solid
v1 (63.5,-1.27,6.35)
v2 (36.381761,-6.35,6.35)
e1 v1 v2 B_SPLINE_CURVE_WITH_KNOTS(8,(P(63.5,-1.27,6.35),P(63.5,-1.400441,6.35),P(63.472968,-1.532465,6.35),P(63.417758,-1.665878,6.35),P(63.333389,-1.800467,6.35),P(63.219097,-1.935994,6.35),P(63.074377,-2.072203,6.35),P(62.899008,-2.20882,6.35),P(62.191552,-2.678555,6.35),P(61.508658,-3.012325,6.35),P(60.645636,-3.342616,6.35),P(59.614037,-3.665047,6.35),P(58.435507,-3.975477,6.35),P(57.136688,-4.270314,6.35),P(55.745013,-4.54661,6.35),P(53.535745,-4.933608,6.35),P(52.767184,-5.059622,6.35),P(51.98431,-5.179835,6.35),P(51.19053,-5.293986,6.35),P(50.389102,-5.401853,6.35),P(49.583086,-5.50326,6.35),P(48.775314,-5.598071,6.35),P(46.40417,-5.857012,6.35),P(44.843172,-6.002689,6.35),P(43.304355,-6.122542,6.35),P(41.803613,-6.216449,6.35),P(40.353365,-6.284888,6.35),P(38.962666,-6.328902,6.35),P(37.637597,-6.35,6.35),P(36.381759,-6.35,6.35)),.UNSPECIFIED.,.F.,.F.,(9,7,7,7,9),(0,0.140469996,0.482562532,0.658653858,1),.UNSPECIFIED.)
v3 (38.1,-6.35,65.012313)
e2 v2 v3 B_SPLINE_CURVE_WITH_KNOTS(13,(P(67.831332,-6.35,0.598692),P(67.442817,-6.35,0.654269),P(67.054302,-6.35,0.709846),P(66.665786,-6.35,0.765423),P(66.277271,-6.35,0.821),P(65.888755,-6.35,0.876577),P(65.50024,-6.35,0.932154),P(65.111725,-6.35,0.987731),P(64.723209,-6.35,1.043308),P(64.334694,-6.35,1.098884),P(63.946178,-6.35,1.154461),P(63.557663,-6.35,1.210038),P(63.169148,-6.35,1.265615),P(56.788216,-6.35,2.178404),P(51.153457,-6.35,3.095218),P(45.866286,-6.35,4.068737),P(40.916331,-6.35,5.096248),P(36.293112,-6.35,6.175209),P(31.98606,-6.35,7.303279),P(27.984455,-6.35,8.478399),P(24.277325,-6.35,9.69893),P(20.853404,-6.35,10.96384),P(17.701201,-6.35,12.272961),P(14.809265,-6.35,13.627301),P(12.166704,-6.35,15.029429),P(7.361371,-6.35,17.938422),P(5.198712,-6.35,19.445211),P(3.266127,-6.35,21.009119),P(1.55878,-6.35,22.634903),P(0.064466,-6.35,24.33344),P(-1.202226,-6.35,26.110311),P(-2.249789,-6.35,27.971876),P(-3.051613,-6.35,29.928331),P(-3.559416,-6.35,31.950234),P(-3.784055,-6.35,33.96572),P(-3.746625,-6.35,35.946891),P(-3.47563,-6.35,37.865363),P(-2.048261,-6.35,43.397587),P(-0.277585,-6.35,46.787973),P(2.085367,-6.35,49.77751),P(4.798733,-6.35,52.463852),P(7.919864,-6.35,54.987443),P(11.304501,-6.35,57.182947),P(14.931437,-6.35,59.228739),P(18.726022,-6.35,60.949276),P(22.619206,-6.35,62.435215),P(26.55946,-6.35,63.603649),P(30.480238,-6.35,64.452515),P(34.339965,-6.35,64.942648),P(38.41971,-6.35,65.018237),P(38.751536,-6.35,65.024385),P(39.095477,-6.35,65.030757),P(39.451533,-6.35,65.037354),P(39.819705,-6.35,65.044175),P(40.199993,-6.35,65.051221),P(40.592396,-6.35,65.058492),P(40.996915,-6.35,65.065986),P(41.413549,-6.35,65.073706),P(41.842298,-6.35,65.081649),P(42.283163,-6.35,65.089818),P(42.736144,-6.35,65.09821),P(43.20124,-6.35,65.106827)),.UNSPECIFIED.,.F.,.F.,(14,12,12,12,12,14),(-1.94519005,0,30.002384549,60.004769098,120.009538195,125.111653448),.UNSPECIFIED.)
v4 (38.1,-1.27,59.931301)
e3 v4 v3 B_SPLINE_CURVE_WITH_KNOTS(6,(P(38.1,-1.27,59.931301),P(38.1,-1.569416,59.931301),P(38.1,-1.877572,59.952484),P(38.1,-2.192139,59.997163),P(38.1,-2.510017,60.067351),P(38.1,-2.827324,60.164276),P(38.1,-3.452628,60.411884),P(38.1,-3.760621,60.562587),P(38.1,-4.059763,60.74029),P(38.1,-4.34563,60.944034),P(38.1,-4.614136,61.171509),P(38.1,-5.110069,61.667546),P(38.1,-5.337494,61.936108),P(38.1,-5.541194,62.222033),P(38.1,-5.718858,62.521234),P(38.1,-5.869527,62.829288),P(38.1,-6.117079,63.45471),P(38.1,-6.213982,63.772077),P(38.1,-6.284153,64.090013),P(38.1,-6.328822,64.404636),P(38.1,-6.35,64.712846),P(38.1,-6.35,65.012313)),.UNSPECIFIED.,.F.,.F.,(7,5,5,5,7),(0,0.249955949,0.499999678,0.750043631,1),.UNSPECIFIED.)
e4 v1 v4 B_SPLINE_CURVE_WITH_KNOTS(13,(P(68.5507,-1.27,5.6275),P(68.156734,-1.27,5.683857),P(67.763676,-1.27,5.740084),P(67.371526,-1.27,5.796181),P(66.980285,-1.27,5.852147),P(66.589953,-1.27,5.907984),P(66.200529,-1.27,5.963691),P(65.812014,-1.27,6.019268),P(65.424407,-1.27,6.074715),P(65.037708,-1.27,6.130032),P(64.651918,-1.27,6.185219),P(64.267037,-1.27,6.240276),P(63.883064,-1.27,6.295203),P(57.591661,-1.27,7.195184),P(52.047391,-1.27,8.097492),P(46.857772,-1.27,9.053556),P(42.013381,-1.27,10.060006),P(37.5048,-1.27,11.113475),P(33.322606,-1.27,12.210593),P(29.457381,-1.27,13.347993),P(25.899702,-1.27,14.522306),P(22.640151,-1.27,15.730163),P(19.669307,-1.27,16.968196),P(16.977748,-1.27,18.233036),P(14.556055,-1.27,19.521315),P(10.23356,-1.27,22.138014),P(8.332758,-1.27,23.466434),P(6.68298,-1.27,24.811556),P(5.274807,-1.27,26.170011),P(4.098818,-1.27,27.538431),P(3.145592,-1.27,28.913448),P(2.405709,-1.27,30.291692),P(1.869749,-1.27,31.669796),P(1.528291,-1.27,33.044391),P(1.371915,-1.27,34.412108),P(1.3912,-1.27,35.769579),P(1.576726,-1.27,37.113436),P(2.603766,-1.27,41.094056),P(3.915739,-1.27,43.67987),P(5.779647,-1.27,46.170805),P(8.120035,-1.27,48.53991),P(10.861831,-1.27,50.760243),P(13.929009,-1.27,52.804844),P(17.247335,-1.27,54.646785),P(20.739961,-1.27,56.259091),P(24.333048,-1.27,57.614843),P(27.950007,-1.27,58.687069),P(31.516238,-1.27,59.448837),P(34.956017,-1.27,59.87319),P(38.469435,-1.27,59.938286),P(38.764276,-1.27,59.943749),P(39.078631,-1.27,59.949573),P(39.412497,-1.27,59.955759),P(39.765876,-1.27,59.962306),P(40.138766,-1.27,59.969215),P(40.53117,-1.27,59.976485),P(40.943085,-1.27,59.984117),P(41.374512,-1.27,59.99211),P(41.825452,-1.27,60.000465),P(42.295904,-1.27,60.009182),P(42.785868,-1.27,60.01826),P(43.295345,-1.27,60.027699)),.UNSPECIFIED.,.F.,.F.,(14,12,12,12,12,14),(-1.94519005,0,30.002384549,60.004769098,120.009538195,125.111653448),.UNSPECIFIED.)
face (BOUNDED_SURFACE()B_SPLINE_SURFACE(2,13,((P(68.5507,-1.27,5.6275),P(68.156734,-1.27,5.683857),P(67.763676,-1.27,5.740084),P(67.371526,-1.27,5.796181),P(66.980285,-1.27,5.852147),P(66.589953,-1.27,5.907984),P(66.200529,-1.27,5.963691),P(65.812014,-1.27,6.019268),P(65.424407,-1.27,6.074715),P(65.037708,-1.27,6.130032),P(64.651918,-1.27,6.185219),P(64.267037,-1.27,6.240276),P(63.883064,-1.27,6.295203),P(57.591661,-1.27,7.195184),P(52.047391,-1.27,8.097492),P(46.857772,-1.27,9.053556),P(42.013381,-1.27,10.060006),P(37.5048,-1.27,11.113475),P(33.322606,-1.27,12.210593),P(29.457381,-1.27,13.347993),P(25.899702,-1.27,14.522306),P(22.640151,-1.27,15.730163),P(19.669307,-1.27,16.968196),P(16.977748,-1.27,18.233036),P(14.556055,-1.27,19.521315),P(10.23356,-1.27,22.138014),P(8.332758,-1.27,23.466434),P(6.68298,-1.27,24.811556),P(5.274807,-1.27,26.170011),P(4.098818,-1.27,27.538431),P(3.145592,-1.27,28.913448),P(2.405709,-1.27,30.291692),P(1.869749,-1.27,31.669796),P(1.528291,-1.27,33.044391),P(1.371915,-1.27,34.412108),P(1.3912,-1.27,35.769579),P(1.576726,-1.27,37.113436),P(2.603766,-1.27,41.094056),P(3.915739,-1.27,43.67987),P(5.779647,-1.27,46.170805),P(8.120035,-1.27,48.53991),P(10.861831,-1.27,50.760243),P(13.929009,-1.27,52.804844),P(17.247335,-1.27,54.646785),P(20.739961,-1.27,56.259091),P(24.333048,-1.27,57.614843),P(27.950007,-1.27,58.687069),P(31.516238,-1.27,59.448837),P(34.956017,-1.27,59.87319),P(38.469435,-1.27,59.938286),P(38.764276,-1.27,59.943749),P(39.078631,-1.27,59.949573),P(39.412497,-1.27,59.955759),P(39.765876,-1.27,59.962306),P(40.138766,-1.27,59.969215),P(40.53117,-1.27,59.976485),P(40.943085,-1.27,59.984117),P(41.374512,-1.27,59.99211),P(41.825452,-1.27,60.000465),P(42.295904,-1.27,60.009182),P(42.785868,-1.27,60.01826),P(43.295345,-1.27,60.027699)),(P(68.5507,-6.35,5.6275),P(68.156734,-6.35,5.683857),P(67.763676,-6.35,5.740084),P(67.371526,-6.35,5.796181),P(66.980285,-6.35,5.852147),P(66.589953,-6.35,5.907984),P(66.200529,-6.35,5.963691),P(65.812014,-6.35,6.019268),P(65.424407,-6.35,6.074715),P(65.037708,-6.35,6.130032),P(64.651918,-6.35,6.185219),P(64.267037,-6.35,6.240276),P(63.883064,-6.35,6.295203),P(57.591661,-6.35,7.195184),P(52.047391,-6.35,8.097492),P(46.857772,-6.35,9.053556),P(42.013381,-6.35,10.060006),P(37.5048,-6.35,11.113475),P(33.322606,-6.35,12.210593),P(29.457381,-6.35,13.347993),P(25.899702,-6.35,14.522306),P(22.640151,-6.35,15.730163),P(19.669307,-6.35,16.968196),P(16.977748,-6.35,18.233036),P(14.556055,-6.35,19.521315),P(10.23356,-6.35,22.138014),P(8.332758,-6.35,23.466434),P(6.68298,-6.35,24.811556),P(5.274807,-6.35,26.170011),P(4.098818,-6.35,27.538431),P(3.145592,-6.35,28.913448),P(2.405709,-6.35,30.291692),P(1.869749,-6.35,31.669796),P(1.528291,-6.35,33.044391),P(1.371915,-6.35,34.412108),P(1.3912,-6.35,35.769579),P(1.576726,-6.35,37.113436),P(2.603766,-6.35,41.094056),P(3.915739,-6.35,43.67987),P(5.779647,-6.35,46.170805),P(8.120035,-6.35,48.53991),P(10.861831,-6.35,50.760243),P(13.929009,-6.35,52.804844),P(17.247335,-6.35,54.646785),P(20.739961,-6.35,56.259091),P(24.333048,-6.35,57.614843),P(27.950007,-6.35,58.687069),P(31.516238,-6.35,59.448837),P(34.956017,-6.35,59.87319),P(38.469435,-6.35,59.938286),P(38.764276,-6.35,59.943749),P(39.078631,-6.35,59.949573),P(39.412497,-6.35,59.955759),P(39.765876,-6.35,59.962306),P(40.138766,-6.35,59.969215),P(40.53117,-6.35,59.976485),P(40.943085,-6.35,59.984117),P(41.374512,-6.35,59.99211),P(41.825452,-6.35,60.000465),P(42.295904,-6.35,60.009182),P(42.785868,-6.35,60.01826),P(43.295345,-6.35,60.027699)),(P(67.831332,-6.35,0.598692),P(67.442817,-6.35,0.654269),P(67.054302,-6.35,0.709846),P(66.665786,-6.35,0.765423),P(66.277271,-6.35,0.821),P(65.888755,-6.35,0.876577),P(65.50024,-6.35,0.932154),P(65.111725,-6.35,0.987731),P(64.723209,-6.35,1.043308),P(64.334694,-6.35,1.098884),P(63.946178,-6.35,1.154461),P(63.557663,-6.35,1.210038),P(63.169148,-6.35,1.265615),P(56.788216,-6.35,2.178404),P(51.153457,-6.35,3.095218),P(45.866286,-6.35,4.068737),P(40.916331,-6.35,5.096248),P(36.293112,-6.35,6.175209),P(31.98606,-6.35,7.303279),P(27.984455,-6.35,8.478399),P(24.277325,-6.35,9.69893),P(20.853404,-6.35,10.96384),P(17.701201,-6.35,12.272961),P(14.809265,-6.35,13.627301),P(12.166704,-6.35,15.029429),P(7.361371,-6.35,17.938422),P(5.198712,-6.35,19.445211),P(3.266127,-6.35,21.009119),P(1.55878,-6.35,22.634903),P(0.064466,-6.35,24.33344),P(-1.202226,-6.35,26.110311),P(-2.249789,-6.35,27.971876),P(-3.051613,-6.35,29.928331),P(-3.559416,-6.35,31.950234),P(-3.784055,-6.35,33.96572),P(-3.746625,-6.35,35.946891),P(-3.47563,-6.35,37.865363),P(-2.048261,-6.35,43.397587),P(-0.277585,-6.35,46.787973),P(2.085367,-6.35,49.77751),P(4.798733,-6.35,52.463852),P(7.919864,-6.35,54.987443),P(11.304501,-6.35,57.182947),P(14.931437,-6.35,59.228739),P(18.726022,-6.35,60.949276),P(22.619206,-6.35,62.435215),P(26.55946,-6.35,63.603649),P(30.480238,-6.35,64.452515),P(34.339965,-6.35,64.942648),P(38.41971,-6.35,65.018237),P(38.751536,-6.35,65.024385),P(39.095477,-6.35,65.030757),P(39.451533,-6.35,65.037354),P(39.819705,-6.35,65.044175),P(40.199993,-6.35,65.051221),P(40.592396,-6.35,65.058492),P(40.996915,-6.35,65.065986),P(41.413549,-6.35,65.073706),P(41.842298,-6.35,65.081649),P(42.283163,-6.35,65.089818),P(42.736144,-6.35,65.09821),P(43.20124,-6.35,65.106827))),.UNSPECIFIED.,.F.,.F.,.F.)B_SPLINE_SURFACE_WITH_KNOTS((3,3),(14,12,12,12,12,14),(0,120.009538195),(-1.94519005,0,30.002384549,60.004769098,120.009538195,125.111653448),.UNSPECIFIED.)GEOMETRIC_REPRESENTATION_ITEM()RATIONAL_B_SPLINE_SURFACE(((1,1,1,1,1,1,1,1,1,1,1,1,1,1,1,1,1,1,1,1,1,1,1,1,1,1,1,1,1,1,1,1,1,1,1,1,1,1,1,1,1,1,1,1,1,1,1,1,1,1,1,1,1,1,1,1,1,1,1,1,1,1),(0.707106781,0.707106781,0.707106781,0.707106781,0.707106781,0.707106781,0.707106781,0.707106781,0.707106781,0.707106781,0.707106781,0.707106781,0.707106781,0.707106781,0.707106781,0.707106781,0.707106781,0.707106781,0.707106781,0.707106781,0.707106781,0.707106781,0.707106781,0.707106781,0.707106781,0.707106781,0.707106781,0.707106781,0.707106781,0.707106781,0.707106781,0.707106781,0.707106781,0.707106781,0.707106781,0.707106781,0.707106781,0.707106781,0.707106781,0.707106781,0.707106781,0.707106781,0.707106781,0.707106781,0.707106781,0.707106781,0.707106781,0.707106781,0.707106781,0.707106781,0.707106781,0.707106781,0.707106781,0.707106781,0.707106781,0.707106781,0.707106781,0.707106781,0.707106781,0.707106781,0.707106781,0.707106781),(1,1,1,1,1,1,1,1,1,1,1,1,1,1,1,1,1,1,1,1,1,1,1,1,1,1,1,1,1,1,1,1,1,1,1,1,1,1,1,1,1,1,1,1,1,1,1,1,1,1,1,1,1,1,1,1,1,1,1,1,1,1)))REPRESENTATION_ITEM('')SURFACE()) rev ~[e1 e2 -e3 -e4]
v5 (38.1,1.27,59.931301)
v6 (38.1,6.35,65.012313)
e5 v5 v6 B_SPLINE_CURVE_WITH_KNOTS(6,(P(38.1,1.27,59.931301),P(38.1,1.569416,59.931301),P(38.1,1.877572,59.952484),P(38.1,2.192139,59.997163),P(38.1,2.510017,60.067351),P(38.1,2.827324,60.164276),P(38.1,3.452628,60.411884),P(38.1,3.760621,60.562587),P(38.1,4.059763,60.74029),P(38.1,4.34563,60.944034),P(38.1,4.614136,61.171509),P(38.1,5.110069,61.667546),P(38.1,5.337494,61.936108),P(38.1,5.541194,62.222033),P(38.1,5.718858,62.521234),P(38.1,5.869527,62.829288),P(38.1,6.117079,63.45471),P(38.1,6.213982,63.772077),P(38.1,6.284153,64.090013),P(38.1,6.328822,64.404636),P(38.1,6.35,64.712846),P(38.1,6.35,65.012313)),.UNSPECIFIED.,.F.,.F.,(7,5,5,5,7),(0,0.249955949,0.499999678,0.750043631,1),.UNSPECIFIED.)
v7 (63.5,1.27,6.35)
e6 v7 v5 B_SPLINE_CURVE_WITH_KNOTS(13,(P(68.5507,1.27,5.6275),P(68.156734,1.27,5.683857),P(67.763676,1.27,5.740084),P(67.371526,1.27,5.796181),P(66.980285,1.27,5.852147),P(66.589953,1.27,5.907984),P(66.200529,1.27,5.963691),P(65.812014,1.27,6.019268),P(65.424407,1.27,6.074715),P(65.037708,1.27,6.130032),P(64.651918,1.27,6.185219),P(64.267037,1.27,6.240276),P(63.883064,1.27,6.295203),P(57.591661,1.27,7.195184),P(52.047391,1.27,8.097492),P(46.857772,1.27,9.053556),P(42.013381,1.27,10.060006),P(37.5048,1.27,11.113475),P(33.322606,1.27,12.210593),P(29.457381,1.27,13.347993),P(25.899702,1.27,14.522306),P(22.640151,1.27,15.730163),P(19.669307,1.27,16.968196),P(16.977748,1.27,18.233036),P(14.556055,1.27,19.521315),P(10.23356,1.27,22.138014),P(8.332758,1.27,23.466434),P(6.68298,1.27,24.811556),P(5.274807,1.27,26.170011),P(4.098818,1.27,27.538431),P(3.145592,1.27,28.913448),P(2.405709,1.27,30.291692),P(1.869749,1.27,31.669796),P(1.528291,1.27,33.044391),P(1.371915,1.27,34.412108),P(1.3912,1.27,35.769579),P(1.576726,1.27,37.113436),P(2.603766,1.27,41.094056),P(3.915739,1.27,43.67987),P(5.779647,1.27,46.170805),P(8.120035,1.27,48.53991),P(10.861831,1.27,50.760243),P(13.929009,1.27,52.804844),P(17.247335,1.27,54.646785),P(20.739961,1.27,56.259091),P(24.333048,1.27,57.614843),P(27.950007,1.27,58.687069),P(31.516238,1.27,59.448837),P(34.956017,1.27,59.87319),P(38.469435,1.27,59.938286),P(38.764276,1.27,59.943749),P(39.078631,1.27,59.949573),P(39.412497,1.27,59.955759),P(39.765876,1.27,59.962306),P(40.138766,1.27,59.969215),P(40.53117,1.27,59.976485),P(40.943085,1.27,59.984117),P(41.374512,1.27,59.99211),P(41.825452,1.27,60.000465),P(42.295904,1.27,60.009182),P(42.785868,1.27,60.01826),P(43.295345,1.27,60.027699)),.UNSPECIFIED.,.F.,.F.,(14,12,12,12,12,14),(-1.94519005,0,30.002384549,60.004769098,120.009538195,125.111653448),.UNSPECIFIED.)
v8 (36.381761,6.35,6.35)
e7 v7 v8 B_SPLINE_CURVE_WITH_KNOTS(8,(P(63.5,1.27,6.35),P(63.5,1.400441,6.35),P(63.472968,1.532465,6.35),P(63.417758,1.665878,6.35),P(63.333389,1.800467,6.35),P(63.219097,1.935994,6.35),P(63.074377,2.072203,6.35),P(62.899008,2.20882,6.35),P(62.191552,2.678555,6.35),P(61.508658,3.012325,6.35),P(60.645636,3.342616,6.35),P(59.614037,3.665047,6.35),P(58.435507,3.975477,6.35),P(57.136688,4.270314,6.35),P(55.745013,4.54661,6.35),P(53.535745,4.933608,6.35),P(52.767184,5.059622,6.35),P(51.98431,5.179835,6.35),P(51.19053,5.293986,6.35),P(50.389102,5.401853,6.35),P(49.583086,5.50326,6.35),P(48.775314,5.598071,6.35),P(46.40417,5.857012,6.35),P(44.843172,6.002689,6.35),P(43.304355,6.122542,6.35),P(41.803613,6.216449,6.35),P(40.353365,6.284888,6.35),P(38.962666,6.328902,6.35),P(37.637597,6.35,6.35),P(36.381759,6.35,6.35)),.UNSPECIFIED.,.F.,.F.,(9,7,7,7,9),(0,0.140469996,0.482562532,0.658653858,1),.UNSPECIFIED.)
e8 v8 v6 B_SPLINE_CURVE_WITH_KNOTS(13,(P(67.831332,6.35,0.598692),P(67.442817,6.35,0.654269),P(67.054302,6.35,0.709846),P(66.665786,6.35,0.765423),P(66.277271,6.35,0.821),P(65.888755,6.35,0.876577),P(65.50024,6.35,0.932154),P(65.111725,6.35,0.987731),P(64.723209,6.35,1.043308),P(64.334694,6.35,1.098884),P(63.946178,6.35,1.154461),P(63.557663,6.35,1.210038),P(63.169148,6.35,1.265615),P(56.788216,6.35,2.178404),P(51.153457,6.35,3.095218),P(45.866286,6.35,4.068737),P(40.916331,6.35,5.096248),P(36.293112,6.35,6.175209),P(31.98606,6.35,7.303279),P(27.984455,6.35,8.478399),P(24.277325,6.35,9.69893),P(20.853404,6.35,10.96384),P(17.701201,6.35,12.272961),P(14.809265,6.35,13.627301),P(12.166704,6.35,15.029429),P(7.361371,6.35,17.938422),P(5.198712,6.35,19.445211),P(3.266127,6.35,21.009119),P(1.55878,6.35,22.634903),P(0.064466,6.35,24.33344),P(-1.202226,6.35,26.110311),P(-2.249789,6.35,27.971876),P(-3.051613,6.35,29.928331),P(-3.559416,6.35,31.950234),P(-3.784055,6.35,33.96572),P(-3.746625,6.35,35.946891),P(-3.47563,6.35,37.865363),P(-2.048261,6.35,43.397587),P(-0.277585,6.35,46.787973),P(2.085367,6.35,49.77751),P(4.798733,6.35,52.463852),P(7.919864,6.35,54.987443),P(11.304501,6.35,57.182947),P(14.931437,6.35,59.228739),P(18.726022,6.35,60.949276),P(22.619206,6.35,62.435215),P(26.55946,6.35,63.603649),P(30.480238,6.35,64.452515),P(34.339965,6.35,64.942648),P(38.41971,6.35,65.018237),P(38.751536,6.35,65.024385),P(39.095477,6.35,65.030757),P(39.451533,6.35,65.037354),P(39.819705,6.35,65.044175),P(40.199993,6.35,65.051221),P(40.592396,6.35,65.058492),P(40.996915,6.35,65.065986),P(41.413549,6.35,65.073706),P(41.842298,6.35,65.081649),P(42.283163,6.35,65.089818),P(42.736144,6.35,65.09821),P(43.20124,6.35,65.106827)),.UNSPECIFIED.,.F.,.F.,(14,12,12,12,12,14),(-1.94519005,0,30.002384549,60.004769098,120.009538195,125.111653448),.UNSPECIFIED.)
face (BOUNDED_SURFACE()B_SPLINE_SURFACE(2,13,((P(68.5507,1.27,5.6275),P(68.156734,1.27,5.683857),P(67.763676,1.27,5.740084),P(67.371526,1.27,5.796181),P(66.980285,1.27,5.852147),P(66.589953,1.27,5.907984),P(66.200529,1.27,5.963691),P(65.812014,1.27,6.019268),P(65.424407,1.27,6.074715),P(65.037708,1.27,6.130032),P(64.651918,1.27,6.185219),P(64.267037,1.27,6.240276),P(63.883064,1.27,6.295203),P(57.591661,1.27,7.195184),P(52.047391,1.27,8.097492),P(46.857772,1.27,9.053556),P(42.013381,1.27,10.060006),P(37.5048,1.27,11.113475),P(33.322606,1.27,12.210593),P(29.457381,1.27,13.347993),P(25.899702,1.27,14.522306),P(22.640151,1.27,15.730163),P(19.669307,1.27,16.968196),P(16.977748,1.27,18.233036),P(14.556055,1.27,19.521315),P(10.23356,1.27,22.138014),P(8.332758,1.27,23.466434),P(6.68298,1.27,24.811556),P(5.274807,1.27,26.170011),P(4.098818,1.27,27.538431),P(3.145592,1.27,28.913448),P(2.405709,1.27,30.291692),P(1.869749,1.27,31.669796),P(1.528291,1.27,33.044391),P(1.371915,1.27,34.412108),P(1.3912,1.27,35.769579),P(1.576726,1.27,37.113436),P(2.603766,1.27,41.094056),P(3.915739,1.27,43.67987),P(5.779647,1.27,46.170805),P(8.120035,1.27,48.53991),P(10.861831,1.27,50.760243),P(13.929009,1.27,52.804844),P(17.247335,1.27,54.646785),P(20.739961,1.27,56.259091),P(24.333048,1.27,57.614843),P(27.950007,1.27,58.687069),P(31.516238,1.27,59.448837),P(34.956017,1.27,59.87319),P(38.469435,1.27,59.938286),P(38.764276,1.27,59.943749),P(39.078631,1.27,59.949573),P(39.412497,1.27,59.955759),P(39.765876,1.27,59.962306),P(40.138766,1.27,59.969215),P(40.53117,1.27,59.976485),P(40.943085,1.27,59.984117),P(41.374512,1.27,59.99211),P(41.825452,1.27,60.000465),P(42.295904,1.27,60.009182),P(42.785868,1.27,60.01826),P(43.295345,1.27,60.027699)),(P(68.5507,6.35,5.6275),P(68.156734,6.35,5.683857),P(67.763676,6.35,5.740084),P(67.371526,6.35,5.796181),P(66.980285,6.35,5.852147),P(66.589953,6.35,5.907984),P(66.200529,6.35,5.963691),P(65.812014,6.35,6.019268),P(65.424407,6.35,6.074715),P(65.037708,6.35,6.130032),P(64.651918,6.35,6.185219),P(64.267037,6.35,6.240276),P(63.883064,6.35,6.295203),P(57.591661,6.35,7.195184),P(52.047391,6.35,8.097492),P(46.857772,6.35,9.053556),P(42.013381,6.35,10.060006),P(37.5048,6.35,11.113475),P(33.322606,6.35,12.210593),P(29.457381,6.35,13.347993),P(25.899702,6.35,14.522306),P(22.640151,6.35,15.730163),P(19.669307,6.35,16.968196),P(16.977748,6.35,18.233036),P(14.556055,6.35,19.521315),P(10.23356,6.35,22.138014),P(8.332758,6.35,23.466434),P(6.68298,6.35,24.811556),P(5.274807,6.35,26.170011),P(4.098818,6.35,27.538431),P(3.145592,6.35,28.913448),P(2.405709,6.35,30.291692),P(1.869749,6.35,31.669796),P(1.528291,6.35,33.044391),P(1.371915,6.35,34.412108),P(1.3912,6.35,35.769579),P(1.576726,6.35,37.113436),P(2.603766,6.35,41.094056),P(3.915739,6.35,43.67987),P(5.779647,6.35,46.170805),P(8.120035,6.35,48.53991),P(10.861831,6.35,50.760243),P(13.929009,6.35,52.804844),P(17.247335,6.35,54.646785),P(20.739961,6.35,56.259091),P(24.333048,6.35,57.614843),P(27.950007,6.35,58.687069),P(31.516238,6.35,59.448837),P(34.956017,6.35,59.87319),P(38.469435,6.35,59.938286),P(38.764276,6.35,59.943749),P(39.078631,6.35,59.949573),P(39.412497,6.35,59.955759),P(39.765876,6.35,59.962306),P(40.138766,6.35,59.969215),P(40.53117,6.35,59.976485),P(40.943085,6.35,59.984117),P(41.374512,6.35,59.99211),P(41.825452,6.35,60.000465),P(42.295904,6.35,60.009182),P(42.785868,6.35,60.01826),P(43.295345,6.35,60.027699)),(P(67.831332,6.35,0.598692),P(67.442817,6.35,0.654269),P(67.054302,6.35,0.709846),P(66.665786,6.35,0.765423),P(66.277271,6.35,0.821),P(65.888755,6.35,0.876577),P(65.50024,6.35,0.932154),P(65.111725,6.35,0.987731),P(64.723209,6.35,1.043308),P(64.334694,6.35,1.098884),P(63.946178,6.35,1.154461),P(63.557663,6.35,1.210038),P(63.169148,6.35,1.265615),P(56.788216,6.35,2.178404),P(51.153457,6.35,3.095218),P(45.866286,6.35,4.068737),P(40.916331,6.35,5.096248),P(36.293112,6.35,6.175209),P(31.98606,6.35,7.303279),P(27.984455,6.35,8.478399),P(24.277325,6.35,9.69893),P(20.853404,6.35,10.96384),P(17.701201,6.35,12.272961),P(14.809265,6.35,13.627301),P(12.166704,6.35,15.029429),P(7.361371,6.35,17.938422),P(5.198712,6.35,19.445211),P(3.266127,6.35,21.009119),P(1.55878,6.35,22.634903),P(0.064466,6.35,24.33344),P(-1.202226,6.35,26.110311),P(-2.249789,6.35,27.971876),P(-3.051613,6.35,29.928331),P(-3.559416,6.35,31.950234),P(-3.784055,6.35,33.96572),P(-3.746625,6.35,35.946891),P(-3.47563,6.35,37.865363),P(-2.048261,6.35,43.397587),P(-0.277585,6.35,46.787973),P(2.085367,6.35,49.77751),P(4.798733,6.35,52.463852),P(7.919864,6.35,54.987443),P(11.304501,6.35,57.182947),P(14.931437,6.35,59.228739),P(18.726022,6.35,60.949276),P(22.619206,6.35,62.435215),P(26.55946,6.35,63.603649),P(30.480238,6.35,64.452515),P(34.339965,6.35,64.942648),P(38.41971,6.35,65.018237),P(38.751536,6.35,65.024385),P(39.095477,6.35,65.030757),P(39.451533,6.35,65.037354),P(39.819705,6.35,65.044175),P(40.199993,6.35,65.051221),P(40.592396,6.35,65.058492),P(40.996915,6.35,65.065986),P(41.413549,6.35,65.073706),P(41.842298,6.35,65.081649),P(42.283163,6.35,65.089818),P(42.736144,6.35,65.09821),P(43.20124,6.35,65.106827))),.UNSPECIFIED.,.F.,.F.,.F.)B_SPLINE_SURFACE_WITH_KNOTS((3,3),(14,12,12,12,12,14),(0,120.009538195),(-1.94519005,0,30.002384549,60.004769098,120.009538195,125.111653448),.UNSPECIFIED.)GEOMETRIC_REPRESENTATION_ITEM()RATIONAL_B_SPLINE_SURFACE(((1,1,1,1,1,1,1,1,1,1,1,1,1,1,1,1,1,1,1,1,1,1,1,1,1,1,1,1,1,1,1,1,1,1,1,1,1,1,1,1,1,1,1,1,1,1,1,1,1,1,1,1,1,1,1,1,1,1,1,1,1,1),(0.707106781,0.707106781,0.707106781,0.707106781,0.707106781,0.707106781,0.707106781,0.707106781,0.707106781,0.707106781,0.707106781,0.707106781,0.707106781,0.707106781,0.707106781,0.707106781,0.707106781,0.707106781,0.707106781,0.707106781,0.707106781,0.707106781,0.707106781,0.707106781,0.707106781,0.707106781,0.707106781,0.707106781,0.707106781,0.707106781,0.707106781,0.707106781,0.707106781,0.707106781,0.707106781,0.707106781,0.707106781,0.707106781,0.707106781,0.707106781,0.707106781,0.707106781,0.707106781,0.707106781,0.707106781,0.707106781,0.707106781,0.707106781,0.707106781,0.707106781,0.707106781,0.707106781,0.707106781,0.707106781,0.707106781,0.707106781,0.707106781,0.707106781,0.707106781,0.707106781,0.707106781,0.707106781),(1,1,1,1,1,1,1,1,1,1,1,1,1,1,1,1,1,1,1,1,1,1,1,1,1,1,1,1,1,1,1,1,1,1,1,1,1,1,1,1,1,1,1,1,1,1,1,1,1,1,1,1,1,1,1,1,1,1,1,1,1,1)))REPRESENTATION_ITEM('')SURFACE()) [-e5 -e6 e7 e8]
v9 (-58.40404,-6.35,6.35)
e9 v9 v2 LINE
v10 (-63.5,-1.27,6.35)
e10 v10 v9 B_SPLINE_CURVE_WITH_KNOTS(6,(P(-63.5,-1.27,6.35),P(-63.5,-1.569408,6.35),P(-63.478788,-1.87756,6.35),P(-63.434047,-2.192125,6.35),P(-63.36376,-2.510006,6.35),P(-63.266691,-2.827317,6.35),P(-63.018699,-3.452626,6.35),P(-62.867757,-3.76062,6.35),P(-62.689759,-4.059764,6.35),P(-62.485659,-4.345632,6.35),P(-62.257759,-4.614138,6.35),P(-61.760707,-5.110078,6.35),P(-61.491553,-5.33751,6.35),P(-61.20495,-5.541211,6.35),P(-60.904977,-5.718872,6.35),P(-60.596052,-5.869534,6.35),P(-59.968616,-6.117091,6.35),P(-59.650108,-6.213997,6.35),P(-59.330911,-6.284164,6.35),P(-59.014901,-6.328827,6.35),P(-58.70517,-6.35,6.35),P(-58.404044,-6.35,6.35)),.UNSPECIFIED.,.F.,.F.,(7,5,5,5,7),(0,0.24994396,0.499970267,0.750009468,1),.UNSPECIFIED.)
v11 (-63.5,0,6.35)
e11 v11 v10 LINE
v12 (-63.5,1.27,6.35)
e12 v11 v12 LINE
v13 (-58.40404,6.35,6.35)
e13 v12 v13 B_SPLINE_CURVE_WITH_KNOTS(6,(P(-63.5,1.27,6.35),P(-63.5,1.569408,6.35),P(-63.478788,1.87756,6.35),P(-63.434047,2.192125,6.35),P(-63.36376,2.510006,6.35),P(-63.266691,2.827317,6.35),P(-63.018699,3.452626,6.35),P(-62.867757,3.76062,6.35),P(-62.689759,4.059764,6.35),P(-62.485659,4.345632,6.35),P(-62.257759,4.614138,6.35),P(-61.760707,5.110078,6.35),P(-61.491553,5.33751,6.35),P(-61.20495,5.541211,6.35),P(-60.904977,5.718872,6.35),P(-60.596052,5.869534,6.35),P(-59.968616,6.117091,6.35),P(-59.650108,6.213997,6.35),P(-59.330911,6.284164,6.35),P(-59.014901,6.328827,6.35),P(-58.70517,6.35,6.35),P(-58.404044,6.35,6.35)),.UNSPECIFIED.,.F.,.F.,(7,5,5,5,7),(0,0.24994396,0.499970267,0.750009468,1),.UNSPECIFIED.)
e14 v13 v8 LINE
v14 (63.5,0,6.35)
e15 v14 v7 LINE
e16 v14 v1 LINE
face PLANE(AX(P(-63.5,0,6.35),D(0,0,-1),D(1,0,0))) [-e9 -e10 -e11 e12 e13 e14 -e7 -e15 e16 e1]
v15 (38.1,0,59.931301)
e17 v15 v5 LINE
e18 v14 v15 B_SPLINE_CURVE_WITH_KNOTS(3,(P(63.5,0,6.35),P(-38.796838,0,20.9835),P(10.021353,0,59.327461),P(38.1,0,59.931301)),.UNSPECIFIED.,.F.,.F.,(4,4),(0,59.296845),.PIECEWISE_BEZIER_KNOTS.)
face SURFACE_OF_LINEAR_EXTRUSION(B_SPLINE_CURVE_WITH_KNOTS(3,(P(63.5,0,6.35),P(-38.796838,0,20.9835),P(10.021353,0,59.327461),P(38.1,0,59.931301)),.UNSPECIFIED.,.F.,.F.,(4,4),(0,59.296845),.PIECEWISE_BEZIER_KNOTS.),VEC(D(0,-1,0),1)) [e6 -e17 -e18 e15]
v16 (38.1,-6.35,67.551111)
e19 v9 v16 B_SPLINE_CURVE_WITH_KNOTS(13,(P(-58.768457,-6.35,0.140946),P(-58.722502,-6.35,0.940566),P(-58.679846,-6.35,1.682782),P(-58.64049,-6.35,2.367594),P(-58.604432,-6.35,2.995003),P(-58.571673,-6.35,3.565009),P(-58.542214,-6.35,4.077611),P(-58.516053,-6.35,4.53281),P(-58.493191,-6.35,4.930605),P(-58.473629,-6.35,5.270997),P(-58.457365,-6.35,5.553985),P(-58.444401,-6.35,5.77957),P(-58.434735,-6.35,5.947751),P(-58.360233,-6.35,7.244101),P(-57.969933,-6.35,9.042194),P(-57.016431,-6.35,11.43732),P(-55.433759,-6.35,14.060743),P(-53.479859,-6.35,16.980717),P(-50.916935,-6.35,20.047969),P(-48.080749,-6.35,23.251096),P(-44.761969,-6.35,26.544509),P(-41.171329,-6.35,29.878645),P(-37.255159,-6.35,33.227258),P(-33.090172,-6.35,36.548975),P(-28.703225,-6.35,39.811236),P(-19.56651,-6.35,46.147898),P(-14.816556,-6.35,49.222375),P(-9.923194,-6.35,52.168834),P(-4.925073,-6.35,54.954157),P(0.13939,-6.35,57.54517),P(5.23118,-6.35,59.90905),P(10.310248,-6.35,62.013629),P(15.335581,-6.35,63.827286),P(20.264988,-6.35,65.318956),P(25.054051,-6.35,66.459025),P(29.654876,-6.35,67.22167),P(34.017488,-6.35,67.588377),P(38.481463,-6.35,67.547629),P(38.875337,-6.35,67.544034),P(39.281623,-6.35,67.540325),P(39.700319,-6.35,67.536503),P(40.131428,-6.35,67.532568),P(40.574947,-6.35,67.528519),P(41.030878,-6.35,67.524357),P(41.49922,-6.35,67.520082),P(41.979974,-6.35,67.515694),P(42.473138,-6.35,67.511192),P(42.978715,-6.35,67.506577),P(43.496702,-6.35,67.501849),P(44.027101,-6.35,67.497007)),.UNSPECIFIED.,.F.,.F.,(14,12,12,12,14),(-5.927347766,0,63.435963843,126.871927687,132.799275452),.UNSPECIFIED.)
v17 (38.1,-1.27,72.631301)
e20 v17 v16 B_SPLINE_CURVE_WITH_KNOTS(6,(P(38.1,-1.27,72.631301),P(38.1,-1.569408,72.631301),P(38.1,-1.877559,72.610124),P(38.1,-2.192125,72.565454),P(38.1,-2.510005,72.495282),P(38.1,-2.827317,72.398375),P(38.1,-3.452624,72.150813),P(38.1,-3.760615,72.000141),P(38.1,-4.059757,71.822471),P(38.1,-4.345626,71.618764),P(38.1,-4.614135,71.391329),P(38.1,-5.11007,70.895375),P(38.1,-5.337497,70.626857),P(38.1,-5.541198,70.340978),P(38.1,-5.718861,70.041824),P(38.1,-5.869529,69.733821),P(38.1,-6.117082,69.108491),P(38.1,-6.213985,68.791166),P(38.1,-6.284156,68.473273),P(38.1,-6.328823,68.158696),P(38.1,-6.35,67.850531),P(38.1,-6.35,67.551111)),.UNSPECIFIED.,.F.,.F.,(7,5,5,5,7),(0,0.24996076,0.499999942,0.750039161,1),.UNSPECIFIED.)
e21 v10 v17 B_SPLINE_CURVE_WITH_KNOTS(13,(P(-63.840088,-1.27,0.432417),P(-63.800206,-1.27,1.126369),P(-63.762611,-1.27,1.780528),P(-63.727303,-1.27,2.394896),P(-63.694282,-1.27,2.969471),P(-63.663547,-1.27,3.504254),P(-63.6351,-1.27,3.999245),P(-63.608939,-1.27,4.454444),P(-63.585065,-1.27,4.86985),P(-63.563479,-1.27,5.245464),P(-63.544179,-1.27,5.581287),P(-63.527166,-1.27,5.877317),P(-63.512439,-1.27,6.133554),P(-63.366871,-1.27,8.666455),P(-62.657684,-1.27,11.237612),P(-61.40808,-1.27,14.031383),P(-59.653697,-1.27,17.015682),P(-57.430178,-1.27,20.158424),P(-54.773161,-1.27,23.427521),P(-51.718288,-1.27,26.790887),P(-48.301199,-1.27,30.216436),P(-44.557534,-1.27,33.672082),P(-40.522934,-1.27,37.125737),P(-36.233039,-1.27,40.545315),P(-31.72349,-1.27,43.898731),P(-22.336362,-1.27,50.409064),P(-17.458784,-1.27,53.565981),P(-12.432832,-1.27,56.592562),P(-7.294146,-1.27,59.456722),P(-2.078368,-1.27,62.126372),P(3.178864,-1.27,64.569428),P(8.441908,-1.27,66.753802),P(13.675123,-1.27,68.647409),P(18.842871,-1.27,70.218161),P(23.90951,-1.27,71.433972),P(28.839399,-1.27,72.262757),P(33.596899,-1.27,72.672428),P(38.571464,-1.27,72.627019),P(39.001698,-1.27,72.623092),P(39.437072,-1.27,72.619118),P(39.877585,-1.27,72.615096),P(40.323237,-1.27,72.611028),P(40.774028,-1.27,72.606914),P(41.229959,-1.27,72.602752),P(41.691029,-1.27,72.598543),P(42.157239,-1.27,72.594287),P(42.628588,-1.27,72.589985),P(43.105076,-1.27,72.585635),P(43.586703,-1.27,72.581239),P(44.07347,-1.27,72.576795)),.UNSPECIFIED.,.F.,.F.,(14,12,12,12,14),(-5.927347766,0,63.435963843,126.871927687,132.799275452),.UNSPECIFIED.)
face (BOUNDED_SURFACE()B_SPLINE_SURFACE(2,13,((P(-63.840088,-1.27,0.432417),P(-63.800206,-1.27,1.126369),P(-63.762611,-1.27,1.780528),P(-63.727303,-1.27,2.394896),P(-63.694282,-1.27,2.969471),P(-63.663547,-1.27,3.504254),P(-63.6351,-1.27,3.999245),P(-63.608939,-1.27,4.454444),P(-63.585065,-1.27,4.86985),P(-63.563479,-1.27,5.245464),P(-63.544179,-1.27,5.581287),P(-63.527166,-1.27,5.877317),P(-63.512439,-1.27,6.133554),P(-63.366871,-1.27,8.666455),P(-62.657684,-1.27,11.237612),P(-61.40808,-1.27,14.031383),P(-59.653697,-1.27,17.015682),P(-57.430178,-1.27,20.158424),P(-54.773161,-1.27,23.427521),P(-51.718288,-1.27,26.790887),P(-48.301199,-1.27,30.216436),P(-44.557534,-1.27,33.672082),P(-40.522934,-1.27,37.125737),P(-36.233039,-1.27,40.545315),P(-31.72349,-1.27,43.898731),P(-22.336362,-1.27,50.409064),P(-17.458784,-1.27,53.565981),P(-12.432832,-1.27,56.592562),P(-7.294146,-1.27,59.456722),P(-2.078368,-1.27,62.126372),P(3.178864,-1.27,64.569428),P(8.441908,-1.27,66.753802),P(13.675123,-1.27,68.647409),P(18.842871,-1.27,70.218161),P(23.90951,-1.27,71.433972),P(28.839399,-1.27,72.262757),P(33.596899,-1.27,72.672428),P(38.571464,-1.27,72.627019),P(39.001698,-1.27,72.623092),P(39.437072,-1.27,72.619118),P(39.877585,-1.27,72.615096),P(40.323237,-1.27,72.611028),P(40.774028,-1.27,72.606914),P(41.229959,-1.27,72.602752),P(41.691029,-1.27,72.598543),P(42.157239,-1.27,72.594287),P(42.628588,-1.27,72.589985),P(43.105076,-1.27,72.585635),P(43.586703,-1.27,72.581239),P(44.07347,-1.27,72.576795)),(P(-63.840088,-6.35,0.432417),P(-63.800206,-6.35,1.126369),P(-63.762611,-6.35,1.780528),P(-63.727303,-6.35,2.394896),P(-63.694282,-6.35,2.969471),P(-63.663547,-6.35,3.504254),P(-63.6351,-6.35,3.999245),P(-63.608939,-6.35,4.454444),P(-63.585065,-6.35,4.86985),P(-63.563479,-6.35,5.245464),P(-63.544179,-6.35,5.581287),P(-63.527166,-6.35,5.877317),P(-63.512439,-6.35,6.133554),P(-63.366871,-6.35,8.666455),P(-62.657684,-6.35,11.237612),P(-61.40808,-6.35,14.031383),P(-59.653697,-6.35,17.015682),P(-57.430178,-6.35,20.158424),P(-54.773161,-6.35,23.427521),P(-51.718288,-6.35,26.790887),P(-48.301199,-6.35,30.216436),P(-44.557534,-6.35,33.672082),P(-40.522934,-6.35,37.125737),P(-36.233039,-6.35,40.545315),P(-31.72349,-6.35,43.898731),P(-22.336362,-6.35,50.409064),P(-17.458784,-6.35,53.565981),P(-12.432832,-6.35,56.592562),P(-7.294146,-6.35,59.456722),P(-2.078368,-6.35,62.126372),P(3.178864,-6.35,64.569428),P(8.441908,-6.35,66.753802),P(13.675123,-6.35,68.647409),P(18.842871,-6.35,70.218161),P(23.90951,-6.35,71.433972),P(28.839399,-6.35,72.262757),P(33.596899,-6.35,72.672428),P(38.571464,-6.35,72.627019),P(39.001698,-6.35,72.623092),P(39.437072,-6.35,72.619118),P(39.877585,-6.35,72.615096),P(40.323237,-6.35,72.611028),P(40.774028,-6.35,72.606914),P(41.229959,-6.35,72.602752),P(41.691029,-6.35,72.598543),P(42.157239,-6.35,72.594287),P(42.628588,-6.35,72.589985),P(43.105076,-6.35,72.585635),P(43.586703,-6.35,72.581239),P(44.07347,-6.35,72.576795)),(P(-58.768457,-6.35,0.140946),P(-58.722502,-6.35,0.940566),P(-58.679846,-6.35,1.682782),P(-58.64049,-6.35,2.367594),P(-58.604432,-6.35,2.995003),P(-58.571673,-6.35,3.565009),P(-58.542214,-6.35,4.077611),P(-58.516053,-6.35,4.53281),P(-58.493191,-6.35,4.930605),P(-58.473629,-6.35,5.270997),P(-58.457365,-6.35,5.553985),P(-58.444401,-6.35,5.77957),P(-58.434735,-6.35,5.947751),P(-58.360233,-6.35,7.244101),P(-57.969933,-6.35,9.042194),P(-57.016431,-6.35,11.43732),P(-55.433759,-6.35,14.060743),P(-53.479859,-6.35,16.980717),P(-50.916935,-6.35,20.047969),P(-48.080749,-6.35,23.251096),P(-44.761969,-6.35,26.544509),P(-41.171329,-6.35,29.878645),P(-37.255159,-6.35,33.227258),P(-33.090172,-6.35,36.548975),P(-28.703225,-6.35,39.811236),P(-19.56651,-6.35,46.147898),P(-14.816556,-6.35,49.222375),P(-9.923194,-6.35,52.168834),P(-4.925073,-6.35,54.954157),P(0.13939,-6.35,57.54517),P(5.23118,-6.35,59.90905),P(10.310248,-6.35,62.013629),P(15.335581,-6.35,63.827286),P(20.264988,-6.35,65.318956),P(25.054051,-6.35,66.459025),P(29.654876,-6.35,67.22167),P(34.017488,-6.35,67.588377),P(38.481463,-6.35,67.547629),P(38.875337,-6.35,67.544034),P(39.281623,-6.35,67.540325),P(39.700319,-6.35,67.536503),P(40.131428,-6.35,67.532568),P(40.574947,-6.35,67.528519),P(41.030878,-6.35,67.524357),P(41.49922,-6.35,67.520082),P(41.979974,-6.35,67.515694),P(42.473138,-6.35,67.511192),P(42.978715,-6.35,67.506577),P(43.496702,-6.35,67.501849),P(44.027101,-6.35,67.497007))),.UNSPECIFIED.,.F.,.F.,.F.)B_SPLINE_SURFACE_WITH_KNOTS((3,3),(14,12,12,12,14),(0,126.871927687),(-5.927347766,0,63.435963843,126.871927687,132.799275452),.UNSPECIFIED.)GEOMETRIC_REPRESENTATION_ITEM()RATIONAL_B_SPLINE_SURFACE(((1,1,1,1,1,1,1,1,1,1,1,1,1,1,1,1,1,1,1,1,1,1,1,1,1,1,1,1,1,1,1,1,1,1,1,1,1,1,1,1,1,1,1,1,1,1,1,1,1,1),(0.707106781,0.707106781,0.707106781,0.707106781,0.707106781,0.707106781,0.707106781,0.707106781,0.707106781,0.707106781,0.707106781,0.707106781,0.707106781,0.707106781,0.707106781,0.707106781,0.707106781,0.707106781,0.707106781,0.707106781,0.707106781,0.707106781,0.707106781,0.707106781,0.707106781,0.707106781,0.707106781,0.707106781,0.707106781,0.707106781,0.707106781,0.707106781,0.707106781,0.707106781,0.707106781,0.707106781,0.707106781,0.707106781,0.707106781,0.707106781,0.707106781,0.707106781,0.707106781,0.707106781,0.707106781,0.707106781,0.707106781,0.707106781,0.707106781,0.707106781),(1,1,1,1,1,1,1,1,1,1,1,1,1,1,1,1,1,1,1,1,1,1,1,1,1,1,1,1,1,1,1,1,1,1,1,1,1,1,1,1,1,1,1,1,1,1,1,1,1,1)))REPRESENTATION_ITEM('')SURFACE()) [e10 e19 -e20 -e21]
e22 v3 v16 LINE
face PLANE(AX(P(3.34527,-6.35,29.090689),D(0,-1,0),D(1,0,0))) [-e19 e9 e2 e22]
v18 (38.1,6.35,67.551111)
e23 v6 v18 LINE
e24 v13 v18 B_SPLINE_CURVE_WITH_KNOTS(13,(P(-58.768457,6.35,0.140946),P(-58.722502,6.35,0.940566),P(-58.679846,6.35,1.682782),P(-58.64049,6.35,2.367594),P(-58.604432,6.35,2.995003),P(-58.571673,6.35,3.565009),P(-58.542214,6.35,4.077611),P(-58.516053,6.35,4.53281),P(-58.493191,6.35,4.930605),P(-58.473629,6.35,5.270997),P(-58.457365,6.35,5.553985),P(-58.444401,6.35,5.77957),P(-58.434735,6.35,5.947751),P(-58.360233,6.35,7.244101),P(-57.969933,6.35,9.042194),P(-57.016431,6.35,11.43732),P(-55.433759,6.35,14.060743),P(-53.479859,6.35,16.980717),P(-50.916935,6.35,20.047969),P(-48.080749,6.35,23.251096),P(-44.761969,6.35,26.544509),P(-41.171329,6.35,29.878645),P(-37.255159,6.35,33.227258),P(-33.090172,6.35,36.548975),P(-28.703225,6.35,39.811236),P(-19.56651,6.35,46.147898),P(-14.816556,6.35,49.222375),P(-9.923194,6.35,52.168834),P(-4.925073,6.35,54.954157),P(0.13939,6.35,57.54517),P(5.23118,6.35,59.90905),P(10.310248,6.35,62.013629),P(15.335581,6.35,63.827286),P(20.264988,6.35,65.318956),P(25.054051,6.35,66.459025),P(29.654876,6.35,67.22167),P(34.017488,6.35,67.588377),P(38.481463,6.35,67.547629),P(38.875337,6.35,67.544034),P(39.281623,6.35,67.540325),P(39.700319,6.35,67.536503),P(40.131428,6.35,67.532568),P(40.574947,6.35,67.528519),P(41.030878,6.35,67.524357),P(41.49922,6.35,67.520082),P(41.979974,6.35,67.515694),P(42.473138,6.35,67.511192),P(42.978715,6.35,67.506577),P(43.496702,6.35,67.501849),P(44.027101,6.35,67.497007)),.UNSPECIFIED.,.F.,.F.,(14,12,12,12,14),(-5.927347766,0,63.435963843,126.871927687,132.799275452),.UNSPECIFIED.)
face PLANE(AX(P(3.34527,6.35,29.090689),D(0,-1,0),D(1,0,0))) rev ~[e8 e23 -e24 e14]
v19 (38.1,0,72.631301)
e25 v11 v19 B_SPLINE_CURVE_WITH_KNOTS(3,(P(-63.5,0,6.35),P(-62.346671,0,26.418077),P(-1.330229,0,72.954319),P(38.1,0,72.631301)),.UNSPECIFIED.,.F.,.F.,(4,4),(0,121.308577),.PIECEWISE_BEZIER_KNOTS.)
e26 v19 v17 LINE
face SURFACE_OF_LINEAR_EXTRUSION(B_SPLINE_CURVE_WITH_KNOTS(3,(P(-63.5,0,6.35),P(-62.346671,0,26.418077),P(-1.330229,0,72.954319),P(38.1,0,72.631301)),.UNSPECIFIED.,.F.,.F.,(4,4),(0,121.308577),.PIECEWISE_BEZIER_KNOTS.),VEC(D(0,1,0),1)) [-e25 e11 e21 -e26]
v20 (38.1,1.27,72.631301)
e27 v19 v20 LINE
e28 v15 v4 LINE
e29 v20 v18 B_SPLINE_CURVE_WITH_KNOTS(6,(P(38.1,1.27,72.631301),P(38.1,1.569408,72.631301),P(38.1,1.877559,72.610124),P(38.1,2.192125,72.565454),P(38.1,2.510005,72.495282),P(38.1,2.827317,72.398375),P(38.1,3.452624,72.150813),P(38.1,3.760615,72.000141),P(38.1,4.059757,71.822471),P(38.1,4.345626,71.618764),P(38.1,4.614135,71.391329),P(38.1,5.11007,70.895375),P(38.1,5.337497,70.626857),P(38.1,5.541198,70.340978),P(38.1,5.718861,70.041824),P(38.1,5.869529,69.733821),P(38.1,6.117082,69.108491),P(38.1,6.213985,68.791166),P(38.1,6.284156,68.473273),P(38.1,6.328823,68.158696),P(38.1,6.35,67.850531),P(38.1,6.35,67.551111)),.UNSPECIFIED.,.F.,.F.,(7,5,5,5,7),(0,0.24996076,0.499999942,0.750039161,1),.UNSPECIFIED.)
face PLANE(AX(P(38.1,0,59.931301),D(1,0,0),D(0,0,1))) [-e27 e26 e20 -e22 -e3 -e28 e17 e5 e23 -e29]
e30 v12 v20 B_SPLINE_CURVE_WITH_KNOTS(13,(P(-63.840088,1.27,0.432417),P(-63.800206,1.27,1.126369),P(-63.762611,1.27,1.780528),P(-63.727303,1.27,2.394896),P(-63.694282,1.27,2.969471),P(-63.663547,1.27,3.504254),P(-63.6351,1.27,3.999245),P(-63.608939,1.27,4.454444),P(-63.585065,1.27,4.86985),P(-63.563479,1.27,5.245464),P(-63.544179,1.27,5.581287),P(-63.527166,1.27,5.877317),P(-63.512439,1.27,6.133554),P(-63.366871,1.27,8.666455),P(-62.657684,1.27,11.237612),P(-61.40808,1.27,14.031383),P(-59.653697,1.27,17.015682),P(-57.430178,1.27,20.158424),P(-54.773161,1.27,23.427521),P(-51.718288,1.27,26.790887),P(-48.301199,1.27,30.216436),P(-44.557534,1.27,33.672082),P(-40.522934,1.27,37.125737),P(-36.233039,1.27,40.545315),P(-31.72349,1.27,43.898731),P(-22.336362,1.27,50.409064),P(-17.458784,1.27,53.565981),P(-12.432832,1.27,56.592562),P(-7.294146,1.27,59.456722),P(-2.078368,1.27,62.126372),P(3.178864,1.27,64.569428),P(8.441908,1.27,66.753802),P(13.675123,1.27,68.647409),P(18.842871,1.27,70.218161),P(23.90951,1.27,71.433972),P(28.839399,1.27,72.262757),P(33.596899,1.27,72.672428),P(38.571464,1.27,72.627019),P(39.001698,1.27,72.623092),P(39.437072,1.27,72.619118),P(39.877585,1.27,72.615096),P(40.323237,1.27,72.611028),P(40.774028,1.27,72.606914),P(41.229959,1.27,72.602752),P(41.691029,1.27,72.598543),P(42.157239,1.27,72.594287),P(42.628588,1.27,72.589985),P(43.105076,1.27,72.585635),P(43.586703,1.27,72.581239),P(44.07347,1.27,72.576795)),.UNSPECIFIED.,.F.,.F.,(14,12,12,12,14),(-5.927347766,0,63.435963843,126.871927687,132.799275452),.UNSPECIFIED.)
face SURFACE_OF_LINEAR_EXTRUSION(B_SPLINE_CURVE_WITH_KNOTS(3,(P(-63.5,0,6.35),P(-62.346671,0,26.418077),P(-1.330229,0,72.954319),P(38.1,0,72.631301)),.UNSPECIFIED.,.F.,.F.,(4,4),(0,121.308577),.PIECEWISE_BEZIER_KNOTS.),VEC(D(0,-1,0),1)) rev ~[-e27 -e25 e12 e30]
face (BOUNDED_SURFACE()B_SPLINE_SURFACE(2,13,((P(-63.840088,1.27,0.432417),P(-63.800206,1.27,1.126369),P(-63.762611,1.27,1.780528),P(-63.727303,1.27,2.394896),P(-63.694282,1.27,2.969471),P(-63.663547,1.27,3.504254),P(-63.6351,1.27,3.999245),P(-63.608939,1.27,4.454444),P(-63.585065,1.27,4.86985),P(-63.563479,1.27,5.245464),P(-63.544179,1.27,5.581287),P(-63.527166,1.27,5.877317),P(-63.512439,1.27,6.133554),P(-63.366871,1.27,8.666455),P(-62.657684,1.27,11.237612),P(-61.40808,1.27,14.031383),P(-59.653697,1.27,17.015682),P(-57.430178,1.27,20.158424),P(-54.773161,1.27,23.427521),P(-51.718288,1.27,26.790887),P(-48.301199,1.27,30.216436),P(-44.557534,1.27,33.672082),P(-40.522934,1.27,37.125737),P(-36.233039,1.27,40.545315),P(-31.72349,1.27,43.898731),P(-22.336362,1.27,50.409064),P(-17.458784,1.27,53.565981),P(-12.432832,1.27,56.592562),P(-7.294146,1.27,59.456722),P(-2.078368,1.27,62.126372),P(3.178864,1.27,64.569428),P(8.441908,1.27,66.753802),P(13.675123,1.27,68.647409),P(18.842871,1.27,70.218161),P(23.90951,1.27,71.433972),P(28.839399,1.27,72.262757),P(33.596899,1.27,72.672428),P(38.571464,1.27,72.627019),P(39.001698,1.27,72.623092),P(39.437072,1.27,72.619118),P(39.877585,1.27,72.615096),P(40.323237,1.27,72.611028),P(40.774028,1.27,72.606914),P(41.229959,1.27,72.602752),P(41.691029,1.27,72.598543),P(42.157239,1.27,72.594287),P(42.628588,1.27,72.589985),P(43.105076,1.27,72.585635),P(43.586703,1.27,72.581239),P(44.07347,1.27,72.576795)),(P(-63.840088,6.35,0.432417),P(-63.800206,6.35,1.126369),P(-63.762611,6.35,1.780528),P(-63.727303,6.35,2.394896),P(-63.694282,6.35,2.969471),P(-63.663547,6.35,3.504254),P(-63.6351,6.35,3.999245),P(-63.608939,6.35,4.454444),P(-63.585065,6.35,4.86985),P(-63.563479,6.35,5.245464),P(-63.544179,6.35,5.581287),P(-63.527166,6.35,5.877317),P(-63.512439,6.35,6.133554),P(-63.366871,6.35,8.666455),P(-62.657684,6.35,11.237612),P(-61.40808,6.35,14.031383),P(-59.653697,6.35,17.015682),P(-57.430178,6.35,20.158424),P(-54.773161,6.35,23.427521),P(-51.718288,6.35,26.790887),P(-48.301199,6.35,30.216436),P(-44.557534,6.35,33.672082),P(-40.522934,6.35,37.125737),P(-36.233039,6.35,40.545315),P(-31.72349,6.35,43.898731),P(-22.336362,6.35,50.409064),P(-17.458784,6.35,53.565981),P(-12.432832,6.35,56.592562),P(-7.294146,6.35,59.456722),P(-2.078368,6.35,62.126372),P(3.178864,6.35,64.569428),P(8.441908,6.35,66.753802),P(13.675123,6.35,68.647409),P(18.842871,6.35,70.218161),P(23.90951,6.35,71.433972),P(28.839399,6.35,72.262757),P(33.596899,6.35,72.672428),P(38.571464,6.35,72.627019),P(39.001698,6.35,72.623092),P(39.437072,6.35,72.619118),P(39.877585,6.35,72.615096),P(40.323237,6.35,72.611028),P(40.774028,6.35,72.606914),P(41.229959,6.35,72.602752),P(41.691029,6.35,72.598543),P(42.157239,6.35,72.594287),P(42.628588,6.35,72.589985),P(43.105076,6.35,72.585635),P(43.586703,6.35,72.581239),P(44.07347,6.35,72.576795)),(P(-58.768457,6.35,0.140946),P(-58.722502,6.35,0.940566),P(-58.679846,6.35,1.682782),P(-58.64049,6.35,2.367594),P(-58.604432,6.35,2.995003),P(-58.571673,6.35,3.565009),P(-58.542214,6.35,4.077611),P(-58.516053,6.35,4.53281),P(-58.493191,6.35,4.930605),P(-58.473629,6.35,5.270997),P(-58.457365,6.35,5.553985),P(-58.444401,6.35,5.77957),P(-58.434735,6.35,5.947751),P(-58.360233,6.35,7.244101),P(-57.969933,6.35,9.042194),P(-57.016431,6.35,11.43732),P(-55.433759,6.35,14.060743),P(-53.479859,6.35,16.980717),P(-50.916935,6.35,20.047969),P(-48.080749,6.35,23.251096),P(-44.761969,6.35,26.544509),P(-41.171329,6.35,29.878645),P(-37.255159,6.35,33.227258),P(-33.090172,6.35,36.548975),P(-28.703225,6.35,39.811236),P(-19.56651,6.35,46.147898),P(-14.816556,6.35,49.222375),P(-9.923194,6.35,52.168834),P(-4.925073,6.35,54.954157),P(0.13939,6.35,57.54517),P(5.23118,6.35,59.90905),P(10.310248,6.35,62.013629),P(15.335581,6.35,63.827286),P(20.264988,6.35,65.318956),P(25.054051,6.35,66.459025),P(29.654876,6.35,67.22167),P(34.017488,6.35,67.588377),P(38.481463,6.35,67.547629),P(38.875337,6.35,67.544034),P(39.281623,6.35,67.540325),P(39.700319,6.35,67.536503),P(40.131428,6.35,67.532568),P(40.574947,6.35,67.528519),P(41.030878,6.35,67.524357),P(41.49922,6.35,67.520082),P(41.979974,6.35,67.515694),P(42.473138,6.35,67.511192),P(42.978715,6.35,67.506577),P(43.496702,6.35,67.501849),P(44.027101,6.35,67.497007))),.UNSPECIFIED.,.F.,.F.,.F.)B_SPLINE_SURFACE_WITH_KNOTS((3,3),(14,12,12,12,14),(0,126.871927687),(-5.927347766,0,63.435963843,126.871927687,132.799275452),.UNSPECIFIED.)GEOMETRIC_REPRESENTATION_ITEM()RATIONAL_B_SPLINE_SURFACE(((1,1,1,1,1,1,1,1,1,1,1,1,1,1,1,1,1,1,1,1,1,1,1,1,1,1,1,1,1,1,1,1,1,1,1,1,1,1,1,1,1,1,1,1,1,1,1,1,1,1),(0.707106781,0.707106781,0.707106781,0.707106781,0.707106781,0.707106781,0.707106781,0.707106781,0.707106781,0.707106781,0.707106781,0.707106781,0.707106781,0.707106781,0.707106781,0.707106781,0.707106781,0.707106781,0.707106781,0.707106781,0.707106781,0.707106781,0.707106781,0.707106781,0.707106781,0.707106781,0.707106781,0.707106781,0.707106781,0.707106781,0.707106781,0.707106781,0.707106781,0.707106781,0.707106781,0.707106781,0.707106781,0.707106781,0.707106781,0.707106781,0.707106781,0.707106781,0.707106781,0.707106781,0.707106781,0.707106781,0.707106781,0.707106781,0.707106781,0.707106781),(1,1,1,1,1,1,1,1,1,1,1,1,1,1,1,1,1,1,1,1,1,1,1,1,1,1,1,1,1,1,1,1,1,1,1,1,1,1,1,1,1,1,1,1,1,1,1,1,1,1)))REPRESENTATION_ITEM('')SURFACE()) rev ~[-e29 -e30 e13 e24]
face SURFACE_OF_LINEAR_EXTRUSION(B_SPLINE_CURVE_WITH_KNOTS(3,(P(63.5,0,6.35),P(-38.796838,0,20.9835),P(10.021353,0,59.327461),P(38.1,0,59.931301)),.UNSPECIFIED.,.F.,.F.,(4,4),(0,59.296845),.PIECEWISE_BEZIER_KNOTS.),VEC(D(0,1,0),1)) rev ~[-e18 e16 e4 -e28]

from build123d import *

# Parameters (mm, degrees)
F1_DEPTH = 6.35
F2_R     = 5.08


with BuildPart() as f1:
    # F0 (on Front) → F1 (new body, symmetric)
    with BuildSketch(Plane.XZ):
        with BuildLine():
            Line((-63.5, 6.35), (63.5, 6.35))
            add(Edge.make_bspline(
                [(63.5, 6.35), (-38.796838, 20.9835), (10.021353, 59.327461), (38.1, 59.931301)],
                knots=[0, 0, 0, 0, 59.296845, 59.296845, 59.296845, 59.296845], degree=3))
            Line((38.1, 59.931301), (38.1, 72.631301))
            add(Edge.make_bspline(
                [(-63.5, 6.35), (-62.346671, 26.418077), (-1.330229, 72.954319), (38.1, 72.631301)],
                knots=[0, 0, 0, 0, 121.308577, 121.308577, 121.308577, 121.308577], degree=3))
        make_face()
    extrude(amount=F1_DEPTH, both=True)

    # F2
    f2_edges = [f1.edges().sort_by_distance(p)[0] for p in [
        (-20.792679, -6.35, 51.301252),
        (-20.792679, 6.35, 51.301252),
        (7.139577, 6.35, 24.662786),
        (7.139577, -6.35, 24.662786),
    ]]
    fillet(f2_edges, radius=F2_R)


solid = f1.part
